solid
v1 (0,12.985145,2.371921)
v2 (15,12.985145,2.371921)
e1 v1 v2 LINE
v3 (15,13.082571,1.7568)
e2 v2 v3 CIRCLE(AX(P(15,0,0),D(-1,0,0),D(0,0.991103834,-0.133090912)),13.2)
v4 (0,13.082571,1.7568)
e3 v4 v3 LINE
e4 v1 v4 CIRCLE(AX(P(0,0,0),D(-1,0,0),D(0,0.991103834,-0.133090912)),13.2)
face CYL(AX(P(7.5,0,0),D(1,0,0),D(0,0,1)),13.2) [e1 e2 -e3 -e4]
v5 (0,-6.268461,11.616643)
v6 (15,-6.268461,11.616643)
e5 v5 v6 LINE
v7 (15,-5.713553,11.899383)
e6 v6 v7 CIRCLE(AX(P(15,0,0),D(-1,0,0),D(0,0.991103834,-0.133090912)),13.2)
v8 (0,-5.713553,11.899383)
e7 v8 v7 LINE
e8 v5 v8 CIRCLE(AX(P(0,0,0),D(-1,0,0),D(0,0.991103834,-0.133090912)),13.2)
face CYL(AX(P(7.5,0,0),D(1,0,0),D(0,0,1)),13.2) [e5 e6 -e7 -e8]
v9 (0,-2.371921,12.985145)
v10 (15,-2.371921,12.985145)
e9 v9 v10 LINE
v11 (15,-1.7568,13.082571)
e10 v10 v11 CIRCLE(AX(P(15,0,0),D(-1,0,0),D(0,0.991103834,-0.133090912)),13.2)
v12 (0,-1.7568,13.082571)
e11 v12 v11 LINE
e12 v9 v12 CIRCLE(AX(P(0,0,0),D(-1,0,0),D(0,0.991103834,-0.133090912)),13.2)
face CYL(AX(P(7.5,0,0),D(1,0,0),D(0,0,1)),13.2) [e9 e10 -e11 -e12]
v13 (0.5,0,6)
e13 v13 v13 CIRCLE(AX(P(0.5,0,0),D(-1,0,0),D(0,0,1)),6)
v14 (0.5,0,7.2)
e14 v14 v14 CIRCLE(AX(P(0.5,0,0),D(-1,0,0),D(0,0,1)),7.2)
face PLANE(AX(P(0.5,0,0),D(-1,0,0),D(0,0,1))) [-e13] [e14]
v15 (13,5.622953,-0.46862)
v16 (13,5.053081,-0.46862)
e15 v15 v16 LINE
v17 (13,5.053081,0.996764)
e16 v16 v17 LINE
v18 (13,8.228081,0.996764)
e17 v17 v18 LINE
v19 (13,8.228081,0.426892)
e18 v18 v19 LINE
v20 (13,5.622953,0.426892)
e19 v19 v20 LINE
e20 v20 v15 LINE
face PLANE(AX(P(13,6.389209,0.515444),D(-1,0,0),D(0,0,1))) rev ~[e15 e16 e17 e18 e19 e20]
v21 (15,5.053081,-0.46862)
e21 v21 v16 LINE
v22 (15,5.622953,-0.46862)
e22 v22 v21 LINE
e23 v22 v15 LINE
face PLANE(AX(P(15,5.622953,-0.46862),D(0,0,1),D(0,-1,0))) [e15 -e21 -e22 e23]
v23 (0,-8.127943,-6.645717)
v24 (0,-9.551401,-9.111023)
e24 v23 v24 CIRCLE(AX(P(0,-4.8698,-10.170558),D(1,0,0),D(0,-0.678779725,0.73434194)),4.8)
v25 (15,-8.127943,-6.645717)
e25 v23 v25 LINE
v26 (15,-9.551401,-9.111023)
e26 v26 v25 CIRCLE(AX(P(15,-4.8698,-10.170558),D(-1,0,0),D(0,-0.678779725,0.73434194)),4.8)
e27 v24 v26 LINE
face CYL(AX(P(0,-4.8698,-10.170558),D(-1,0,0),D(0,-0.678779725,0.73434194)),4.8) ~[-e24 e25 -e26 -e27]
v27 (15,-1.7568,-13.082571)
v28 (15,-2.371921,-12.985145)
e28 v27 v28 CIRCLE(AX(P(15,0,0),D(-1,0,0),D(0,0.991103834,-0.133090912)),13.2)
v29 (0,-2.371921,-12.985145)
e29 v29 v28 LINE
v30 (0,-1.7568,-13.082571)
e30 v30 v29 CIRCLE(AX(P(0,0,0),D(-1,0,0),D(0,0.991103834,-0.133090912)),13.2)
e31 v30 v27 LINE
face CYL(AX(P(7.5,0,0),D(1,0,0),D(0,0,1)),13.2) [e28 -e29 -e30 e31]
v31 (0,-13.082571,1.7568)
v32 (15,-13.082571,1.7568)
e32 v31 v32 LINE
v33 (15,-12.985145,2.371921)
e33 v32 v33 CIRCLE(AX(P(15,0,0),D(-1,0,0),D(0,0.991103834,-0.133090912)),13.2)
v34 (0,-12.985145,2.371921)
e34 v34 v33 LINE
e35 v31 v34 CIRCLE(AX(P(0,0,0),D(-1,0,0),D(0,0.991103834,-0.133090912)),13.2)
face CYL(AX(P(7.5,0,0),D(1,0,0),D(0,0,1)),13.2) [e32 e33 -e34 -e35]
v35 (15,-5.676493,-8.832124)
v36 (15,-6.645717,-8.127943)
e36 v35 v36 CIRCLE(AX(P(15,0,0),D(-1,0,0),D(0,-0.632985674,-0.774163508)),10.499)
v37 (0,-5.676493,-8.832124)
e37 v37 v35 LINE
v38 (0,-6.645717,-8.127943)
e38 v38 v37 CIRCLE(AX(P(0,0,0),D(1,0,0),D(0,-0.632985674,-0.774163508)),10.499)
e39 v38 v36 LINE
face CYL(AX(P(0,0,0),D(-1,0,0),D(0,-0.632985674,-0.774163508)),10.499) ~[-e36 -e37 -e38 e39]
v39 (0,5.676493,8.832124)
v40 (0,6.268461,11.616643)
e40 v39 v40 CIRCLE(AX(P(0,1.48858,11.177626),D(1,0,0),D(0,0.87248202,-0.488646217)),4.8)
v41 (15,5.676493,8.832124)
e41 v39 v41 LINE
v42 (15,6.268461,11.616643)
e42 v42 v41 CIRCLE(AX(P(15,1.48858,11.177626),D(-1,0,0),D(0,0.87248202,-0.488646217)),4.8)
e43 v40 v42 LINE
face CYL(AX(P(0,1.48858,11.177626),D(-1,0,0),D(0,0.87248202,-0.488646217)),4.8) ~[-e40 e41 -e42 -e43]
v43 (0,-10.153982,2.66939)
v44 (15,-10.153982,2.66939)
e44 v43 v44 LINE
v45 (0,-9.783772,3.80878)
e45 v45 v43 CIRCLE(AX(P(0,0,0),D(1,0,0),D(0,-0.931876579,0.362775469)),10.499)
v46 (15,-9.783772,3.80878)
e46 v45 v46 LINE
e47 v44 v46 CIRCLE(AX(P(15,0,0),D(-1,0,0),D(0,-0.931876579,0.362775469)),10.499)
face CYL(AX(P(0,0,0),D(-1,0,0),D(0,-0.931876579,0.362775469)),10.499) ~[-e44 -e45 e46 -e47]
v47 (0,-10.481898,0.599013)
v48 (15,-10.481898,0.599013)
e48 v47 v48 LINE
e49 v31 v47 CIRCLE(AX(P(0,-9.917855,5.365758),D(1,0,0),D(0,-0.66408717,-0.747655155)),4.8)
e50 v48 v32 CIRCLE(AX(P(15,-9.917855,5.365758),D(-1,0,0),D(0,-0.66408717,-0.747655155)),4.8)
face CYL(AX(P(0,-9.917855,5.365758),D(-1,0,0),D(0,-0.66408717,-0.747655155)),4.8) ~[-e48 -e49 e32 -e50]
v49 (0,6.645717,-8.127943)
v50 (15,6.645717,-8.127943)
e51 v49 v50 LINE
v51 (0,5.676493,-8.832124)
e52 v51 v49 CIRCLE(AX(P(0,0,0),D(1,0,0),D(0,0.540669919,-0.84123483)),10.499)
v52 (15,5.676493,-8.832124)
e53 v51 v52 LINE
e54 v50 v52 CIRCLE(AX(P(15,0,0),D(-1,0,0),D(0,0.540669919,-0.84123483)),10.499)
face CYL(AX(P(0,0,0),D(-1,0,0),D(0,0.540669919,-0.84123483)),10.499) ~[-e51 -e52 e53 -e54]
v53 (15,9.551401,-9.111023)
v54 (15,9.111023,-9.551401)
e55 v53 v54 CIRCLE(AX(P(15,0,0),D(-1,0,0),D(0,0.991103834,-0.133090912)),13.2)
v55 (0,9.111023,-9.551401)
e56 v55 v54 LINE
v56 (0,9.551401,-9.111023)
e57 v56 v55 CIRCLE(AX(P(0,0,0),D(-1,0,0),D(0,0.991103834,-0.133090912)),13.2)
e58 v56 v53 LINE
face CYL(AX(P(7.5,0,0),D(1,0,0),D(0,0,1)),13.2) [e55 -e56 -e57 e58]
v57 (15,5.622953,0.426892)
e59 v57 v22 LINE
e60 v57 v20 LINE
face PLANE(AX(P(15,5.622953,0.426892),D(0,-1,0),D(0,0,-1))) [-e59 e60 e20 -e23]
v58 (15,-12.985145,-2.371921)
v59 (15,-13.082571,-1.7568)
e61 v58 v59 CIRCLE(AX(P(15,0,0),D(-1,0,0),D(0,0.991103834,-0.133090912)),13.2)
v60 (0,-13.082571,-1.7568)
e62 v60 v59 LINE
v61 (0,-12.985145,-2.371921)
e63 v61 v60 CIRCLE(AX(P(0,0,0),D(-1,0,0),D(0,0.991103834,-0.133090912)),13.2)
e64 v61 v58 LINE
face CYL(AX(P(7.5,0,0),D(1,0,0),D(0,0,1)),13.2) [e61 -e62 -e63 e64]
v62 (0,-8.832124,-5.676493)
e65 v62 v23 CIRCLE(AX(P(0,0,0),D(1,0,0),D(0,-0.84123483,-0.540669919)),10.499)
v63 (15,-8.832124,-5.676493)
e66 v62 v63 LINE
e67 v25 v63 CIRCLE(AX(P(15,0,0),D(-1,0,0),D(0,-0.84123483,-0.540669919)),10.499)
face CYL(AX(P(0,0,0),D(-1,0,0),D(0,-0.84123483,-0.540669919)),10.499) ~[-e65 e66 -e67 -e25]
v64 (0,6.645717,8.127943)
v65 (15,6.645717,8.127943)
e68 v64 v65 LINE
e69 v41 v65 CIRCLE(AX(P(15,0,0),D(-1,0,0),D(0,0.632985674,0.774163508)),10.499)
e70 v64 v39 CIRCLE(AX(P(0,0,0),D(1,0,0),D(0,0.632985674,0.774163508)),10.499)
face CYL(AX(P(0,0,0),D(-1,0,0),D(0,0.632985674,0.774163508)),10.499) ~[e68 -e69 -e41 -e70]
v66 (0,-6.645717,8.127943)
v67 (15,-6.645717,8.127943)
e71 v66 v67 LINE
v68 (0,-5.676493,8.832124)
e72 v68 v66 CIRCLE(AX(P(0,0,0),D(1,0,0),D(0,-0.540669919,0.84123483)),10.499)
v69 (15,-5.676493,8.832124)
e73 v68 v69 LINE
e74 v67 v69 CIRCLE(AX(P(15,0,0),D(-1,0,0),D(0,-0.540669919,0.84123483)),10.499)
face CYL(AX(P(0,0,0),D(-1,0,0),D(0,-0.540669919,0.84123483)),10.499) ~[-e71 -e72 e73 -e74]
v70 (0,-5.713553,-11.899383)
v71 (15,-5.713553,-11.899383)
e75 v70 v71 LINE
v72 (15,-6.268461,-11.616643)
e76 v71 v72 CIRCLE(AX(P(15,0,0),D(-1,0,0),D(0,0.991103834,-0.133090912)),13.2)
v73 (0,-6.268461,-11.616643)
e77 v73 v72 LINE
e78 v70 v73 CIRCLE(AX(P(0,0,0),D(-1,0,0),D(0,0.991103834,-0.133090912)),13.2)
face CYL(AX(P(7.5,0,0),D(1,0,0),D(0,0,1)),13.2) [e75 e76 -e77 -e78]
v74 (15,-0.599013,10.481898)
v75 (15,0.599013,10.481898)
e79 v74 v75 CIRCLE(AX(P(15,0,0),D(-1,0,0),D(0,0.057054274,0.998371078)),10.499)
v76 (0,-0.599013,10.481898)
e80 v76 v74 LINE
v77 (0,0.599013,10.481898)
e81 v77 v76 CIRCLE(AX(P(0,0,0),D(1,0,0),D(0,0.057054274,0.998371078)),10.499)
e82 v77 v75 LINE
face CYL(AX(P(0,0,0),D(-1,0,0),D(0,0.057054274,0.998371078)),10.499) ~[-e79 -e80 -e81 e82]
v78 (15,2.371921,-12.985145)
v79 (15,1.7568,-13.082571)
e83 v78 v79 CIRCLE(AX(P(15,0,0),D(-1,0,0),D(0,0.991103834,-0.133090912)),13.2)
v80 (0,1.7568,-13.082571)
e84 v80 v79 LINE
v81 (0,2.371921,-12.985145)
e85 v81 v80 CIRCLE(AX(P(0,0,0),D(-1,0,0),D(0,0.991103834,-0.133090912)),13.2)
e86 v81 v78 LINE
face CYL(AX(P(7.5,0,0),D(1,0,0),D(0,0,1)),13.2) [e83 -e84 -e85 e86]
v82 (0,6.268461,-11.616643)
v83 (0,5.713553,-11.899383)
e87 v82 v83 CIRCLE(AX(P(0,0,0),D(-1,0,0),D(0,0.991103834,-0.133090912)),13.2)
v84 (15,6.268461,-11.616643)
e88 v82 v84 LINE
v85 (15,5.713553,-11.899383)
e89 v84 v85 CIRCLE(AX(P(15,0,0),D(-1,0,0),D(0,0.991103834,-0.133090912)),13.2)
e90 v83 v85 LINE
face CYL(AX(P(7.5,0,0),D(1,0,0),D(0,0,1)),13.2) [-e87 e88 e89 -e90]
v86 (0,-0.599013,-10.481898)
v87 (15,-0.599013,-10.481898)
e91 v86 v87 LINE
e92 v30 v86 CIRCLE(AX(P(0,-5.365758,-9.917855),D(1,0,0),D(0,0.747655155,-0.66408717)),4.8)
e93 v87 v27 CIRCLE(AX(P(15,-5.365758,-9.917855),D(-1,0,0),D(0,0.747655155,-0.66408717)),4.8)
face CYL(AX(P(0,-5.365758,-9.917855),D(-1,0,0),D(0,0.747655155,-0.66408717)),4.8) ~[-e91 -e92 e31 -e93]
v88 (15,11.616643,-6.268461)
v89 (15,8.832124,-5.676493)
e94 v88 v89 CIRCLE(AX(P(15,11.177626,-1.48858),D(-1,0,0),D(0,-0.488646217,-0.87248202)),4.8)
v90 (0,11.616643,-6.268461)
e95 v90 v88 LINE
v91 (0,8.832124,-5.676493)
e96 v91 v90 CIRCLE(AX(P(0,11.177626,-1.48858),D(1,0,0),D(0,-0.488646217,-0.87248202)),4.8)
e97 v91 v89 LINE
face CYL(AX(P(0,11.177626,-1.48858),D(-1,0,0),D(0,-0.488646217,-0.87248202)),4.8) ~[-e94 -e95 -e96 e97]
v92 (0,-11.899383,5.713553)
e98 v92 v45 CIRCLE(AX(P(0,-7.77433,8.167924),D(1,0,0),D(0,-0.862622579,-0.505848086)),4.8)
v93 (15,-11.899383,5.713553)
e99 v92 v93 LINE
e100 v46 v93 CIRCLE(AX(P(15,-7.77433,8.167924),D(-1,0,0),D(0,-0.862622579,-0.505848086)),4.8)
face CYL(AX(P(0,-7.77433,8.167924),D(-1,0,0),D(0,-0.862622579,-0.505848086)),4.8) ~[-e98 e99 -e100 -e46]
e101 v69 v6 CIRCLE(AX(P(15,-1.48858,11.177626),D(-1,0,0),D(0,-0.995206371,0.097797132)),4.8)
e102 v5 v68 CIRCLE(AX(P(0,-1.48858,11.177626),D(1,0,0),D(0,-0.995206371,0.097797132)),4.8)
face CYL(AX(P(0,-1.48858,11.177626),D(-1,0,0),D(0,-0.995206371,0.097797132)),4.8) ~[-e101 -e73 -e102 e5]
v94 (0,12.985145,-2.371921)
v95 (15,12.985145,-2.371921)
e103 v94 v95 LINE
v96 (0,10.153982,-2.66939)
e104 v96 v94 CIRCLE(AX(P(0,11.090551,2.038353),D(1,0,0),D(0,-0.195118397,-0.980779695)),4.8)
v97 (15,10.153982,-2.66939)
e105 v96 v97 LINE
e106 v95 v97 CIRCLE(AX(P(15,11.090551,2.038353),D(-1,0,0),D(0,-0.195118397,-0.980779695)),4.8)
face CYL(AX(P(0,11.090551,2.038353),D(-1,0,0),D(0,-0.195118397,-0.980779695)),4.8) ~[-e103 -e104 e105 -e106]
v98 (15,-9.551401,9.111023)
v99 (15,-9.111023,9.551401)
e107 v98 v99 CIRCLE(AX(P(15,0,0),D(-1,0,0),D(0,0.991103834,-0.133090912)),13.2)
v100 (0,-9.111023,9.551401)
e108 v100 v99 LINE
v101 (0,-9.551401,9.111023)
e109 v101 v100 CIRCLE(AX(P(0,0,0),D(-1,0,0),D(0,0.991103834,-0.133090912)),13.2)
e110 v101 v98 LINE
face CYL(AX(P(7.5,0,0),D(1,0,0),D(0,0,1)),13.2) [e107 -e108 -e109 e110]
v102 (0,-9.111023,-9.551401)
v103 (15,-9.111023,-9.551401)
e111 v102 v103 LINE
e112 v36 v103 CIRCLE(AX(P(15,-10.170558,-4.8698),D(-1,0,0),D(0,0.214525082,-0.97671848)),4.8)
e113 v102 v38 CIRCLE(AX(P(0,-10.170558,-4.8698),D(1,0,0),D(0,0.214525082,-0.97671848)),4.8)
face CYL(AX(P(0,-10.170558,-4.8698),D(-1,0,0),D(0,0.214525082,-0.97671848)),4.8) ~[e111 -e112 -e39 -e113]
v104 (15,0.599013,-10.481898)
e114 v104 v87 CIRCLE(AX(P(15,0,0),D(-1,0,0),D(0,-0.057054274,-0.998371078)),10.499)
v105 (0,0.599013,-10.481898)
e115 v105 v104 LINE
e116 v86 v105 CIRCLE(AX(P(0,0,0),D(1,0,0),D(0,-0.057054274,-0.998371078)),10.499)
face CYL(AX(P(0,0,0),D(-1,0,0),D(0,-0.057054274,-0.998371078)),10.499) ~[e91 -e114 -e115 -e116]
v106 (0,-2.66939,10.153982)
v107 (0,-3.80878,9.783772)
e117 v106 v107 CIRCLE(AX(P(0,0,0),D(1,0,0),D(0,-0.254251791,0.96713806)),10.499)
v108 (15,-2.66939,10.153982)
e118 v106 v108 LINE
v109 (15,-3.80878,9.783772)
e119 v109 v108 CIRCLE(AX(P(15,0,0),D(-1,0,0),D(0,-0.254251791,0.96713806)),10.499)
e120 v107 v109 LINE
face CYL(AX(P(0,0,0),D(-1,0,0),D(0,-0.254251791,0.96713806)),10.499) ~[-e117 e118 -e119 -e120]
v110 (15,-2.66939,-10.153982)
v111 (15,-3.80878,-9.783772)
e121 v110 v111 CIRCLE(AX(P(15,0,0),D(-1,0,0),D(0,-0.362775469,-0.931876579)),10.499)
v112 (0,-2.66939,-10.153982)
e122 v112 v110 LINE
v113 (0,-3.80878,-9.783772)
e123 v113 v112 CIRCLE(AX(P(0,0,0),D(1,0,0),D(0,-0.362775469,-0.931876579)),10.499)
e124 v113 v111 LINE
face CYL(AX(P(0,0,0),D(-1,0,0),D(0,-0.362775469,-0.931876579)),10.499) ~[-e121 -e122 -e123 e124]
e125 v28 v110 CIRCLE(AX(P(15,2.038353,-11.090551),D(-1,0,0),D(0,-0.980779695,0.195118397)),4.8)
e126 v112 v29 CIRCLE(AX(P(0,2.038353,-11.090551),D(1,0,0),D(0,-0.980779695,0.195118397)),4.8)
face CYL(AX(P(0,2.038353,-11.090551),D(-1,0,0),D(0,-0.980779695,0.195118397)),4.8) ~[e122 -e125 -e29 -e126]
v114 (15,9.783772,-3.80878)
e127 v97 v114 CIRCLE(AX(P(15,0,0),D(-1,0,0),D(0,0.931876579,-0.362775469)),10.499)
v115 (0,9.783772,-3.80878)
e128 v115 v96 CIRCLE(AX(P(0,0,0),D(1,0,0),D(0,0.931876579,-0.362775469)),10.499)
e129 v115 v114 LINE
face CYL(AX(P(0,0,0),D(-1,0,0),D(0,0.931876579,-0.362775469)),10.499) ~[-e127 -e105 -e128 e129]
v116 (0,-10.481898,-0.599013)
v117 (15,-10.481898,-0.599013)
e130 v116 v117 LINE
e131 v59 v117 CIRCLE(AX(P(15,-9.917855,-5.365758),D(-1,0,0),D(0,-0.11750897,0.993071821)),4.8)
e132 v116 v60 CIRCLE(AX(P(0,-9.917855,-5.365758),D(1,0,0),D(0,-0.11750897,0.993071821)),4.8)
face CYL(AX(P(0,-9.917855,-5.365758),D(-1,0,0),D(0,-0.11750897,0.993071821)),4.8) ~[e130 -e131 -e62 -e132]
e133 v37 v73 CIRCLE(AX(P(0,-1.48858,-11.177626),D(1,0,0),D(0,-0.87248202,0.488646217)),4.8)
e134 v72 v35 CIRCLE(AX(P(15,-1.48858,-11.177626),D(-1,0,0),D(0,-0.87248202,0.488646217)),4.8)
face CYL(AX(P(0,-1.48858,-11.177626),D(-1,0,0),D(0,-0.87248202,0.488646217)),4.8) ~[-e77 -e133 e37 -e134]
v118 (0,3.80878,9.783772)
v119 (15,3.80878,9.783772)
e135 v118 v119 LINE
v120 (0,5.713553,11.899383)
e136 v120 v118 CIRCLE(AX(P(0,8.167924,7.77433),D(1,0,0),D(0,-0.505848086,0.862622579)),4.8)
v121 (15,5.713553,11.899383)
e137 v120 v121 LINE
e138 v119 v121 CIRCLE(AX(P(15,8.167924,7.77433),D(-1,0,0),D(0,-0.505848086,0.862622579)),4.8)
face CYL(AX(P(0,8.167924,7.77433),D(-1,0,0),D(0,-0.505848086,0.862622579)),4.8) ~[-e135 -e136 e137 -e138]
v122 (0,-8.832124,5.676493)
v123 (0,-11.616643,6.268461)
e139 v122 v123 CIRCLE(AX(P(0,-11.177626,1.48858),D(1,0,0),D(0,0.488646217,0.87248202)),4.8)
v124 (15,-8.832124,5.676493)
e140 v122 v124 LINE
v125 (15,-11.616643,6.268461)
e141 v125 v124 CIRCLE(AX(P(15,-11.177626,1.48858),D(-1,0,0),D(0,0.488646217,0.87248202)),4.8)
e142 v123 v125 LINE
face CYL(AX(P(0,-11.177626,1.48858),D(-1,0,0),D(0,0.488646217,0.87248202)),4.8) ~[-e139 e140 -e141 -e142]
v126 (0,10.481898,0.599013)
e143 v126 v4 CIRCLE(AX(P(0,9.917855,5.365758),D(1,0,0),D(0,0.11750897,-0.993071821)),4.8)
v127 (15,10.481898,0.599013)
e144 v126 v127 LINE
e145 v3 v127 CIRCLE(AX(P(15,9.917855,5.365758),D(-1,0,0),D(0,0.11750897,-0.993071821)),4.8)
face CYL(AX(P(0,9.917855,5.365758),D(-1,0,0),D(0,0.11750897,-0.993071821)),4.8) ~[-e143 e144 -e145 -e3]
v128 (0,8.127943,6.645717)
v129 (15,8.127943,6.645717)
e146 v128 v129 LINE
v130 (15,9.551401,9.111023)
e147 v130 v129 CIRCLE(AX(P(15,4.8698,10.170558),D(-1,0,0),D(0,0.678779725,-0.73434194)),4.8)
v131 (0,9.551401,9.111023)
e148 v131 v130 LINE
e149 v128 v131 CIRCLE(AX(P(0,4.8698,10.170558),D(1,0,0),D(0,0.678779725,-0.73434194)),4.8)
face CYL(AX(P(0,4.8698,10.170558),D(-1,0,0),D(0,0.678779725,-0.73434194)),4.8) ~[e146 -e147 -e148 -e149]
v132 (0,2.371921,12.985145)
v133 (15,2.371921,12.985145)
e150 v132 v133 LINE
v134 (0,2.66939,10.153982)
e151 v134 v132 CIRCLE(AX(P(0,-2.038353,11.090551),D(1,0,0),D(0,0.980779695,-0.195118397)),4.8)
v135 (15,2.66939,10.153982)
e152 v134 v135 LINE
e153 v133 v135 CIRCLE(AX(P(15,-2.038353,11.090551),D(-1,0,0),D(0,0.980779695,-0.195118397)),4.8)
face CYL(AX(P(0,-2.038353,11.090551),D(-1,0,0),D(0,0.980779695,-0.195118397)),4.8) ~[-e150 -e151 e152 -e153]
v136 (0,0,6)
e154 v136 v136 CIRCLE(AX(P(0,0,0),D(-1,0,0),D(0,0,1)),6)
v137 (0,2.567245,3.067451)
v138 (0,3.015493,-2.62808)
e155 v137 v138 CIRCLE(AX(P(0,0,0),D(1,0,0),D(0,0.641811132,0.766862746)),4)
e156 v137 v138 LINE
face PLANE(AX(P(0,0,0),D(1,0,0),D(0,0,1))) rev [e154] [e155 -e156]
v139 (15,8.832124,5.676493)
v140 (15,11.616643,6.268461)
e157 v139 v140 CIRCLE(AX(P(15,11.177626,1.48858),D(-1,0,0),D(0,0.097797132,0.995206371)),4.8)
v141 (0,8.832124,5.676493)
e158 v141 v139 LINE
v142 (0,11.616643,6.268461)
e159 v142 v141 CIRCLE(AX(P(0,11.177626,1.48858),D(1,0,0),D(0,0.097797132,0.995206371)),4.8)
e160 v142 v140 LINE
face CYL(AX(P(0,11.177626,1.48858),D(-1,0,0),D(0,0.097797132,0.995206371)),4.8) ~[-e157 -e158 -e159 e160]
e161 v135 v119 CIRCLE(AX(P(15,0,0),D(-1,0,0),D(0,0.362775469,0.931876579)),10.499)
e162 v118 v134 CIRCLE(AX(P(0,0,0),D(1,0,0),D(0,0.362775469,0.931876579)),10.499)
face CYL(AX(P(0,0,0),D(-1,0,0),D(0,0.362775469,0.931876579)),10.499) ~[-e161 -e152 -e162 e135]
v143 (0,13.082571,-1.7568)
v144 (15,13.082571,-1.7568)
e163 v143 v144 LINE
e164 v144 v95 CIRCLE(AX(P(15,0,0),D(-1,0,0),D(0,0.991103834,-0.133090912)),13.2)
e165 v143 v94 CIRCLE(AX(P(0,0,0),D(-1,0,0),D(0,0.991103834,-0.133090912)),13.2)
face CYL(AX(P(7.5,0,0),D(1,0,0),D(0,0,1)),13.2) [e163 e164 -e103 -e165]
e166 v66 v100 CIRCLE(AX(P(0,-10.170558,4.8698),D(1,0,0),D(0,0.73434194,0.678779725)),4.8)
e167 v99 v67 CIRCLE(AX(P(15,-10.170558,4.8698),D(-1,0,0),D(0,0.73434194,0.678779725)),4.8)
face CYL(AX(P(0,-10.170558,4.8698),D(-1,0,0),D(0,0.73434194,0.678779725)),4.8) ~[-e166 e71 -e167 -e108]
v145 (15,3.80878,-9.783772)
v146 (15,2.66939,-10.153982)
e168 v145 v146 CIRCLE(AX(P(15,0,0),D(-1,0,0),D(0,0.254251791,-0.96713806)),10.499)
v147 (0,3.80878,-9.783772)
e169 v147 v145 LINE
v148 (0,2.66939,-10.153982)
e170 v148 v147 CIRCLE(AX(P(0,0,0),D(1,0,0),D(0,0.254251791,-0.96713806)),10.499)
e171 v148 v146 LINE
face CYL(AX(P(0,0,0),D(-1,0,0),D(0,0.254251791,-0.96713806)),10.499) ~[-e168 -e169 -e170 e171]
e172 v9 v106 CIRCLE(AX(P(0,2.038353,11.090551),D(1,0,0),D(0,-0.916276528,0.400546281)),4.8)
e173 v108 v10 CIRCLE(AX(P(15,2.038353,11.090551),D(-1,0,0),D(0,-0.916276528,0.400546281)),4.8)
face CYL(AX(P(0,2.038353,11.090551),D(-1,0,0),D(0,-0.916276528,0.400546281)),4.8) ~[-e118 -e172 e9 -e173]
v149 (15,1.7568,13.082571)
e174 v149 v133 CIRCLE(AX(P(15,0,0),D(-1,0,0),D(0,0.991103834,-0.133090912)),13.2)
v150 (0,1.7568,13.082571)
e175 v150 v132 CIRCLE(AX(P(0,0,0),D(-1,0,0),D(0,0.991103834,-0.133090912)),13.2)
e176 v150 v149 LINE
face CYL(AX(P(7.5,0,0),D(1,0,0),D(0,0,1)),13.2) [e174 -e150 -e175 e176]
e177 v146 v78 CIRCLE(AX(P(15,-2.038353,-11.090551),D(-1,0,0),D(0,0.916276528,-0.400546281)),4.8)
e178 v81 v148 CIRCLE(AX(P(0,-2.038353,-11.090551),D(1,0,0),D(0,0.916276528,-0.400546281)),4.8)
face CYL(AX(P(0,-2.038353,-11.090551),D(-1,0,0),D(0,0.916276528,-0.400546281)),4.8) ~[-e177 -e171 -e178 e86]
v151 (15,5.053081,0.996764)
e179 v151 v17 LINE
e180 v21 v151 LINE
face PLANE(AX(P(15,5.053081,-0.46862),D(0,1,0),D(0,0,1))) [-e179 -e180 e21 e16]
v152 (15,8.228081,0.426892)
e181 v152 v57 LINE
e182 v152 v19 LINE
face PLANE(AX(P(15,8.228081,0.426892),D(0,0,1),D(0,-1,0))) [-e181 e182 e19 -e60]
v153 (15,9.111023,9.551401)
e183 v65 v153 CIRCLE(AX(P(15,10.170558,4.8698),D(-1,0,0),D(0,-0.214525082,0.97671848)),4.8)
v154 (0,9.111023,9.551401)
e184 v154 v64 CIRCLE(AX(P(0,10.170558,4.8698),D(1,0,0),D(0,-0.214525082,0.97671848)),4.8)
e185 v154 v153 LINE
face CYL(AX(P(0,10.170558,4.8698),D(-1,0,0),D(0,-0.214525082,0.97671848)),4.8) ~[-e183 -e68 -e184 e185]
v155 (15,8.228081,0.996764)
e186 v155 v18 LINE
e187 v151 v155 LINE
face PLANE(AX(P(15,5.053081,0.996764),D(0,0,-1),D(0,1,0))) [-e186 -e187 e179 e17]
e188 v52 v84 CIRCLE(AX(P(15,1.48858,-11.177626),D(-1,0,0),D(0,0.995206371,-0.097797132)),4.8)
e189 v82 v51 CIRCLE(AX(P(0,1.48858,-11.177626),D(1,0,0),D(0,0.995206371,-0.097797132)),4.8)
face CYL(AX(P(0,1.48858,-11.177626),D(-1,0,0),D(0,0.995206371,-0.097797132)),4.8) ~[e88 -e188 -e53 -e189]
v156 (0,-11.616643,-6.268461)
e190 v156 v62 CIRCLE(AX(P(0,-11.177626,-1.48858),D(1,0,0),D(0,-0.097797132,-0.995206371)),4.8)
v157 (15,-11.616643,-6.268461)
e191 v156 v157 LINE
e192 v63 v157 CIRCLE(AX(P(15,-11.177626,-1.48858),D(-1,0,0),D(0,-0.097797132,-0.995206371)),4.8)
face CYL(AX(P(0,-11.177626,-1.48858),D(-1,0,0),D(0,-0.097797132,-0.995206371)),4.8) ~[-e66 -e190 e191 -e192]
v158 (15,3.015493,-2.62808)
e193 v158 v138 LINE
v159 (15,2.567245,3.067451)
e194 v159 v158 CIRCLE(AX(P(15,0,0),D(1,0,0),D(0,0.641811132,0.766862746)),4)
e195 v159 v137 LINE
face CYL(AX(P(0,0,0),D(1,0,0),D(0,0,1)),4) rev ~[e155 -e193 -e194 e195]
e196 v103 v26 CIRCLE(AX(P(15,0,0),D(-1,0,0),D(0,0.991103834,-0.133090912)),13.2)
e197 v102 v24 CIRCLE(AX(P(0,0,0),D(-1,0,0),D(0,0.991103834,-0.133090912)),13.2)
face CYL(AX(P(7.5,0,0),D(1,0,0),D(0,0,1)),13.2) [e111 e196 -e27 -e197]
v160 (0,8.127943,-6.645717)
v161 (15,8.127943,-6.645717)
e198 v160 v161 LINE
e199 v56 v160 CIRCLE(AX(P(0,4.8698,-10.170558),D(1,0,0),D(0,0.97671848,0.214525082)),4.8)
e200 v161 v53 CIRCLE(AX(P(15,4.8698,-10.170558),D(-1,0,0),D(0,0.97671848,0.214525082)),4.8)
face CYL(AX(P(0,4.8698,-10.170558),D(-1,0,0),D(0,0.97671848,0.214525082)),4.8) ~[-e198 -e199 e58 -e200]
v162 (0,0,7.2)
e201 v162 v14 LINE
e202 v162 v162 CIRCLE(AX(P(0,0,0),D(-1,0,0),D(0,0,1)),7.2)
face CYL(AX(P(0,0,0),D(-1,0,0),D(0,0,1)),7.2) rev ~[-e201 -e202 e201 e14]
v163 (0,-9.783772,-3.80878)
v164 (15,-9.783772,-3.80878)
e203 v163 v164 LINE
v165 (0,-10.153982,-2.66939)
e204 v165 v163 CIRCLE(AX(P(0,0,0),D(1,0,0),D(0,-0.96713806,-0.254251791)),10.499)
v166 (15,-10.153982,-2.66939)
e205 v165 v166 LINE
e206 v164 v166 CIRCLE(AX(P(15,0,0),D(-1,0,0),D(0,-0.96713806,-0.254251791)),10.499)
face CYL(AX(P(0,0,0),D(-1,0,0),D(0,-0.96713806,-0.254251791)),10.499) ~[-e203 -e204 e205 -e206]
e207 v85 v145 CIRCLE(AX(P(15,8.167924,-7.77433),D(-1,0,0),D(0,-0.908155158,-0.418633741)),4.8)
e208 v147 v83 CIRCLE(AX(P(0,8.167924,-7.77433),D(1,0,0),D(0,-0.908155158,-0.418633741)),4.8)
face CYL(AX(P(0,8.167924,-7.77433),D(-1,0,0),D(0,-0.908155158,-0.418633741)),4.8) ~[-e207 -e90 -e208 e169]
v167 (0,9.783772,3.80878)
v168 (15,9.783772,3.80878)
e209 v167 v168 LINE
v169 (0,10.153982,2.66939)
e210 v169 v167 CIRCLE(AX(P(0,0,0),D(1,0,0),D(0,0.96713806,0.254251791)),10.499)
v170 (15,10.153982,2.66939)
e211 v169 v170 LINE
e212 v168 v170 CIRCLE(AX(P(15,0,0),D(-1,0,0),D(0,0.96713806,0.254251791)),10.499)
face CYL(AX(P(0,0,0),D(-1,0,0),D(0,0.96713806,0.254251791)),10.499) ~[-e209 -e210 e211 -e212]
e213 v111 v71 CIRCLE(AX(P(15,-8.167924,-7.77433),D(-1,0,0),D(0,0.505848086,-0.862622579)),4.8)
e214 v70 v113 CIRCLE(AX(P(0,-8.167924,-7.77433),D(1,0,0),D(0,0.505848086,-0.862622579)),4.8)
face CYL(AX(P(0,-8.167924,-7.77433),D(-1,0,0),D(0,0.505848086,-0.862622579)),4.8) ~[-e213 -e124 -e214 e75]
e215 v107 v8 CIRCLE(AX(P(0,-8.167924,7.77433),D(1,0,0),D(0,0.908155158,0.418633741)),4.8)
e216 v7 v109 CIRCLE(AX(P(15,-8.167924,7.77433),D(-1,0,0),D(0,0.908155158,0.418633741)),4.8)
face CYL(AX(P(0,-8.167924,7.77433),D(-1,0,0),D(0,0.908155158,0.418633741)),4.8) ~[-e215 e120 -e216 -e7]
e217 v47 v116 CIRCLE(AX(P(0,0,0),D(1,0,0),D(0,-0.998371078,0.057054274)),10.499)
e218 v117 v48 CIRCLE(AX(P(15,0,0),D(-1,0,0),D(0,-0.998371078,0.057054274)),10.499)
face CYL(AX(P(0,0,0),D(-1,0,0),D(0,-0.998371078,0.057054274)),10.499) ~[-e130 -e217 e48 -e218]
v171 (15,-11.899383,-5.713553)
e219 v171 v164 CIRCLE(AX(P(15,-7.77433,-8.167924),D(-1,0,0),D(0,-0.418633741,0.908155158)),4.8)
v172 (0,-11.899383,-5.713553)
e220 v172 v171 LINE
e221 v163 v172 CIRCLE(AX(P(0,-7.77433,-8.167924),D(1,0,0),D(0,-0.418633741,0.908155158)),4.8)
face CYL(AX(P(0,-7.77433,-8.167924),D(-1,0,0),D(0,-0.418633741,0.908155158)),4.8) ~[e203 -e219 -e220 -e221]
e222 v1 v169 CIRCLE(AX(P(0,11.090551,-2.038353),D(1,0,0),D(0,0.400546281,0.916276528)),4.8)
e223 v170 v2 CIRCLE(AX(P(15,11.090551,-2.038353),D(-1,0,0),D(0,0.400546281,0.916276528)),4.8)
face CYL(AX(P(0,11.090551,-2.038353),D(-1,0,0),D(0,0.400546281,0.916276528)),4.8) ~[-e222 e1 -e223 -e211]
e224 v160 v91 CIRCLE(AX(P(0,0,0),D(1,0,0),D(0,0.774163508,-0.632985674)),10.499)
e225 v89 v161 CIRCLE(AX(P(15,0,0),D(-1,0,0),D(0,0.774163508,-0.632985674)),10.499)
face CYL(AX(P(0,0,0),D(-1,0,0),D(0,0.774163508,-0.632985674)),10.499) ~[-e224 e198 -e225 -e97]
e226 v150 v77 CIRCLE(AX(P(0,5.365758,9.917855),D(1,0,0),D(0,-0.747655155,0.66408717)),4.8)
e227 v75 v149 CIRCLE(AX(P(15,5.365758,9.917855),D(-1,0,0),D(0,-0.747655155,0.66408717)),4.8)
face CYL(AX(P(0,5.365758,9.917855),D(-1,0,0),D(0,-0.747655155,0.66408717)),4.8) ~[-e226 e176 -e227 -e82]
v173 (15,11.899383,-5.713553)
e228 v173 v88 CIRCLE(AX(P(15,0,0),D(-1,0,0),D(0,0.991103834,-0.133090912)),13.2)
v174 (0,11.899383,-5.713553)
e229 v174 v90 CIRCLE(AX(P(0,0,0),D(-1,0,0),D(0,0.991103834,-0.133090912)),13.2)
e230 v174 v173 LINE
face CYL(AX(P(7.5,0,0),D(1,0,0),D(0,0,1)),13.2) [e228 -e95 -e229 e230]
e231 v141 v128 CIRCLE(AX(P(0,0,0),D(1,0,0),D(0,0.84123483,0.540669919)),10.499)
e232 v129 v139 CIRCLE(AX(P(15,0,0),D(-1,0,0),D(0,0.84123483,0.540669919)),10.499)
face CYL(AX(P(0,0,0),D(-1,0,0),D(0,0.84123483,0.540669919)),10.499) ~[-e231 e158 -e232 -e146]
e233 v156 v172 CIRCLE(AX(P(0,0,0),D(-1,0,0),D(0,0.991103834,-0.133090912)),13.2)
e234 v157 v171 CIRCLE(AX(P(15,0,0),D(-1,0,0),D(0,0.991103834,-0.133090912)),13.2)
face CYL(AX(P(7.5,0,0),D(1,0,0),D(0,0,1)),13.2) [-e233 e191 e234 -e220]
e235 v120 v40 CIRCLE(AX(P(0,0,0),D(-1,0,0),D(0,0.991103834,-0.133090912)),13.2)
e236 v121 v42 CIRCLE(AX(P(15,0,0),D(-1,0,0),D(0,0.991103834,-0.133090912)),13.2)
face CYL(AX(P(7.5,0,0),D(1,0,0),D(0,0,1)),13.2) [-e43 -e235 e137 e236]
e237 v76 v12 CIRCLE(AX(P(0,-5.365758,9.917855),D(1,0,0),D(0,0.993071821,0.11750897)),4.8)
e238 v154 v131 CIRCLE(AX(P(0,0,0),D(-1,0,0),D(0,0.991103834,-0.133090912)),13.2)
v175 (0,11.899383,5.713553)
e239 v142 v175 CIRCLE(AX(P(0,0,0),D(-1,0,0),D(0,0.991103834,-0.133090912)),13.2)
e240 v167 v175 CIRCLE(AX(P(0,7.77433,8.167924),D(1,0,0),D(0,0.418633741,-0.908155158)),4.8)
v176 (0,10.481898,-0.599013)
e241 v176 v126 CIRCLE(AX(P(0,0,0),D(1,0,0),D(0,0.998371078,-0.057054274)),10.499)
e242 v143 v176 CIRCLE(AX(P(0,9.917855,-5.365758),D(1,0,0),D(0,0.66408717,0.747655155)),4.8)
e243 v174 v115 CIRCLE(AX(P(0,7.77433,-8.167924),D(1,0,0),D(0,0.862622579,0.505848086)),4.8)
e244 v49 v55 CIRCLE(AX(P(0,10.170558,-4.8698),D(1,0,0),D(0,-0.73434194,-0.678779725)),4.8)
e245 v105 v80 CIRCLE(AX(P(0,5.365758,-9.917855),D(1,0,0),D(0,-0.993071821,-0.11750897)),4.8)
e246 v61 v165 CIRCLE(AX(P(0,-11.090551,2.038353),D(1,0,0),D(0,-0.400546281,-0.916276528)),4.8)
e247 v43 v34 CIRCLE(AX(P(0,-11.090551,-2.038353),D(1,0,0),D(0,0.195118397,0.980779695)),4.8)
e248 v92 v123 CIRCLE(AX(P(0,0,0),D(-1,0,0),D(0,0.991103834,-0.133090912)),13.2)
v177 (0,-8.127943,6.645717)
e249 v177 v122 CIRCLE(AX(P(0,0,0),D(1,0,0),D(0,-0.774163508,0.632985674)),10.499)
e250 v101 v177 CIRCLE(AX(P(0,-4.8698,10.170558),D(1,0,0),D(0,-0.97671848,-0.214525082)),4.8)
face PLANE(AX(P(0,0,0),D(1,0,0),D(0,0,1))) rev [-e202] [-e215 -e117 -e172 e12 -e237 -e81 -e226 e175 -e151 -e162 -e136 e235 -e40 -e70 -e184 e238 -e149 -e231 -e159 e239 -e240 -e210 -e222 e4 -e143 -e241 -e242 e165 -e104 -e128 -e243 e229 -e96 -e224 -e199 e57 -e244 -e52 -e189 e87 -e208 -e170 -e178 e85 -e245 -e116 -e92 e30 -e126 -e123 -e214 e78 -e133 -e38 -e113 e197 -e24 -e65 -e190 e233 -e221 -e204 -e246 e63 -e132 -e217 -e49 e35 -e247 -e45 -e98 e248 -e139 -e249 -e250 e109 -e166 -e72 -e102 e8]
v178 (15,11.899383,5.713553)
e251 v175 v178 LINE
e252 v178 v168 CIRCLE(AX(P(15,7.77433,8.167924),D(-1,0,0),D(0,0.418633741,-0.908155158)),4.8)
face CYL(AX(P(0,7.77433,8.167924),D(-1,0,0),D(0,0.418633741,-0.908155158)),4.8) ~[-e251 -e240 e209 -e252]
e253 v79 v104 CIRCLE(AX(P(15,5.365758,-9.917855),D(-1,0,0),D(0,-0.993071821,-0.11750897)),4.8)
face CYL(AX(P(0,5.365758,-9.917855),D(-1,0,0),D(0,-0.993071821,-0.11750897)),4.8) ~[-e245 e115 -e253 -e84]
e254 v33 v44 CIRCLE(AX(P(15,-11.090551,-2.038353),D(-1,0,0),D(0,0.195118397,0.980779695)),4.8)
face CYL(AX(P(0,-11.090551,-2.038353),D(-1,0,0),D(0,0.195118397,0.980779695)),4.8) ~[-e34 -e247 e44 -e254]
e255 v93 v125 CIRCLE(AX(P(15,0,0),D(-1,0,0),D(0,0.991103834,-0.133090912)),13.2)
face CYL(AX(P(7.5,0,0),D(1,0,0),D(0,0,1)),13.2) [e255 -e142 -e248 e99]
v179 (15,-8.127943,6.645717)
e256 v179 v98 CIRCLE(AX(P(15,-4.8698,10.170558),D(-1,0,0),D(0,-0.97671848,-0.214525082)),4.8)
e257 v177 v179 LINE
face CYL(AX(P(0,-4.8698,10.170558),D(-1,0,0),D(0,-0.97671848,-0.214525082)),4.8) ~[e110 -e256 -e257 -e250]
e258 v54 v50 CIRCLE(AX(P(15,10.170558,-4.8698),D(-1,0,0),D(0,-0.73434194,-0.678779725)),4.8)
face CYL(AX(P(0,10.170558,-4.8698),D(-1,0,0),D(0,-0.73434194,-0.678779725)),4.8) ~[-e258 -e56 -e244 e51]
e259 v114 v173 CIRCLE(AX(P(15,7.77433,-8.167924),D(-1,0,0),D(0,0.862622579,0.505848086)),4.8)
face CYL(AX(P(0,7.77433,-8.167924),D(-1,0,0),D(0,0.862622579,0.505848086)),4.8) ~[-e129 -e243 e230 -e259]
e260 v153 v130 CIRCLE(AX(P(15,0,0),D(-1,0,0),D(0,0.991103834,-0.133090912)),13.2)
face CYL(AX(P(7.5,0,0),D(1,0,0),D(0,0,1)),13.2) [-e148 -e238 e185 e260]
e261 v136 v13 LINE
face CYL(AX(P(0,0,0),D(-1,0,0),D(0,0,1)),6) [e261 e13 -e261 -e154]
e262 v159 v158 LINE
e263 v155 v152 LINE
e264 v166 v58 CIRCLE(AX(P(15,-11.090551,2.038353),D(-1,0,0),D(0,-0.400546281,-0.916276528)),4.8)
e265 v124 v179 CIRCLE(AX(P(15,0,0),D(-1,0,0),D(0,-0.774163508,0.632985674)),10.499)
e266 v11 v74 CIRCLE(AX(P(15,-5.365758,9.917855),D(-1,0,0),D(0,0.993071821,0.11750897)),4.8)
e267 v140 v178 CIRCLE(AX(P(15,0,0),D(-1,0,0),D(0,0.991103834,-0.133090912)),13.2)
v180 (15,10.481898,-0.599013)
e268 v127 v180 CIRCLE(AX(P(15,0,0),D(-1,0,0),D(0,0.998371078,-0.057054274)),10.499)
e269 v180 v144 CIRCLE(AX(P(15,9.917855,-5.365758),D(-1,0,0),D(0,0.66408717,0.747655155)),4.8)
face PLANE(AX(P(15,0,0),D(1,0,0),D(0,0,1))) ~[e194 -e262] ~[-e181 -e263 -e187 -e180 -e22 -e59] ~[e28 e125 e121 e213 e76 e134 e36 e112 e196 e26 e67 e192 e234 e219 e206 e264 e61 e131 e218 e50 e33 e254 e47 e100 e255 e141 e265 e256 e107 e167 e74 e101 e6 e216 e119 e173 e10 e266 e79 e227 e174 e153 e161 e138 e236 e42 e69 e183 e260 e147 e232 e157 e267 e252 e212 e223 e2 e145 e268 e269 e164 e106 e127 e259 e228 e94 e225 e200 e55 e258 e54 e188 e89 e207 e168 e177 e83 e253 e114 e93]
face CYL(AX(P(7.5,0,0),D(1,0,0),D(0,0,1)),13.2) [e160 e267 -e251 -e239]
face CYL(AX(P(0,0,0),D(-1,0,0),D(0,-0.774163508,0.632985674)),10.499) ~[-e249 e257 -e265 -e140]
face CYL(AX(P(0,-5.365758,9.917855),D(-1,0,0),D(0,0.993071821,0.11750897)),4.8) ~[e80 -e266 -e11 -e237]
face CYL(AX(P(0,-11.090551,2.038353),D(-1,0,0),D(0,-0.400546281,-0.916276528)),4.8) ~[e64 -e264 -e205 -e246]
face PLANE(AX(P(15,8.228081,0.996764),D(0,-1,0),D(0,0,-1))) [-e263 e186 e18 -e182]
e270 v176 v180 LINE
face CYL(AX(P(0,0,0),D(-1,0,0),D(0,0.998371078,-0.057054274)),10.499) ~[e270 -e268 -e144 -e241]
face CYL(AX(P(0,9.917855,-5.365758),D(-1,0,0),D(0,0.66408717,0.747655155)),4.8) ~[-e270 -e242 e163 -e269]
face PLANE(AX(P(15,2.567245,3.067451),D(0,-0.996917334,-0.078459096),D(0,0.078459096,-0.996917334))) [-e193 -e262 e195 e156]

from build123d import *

# Parameters (mm, degrees)
BASPROSKE_W         = 15
BASPROSKE_H         = 13.2
TOOTHCUT_DEPTH      = 24.947442452
TEETHCUTS_COUNT     = 20
TEETHCUTS_ANGLE     = 342
BORSKE_R            = 4
BORE_DEPTH          = 50.0000508
BOSS_EXTRUDE1_START = -15
BOSS_EXTRUDE1_DEPTH = 15
SKETCH2_R           = 7.2
SKETCH2_R_2         = 6
CUT_EXTRUDE1_DEPTH  = 0.5
CUT_EXTRUDE2_DEPTH  = 2


with BuildPart() as part:
    # BasProSke → Base-Revolve (revolve)
    with BuildSketch(Plane(origin=(0, 0, 0), x_dir=(1, 0, 0), z_dir=(0, 1, 0)), mode=Mode.PRIVATE) as base_revolve_sk:
        with Locations((7.5, 6.6)):
            Rectangle(BASPROSKE_W, BASPROSKE_H)
    revolve(base_revolve_sk.sketch.rotate(Axis((-10, 0, 0), (1, 0, 0)), 180), axis=Axis((-10, 0, 0), (1, 0, 0)))

    # TooCutSke → ToothCut (cut, through all)
    with BuildSketch(Plane(origin=(0, 0, 0), x_dir=(0, 0, -1), z_dir=(1, 0, 0))):
        with BuildLine():
            ThreePointArc((0.599012827, 10.48189795), (0, 10.499), (-0.599012827, 10.48189795))
            ThreePointArc((-0.599012827, 10.48189795), (-0.986906343, 11.883983562), (-1.777012823, 13.105473306))
            ThreePointArc((-1.777012823, 13.105473306), (0, 13.2254), (1.777012823, 13.105473306))
            ThreePointArc((1.777012823, 13.105473306), (0.986906343, 11.883983562), (0.599012827, 10.48189795))
        make_face()
    toothcut = extrude(amount=TOOTHCUT_DEPTH, mode=Mode.SUBTRACT)

    # TeethCuts: ToothCut ×20 about axis
    teethcuts_axis = Axis((-10, 0, 0), (1, 0, 0))
    for i in range(1, TEETHCUTS_COUNT):
        add(toothcut.rotate(teethcuts_axis, i * TEETHCUTS_ANGLE / (TEETHCUTS_COUNT - 1)), mode=Mode.SUBTRACT)

    # BorSke → Bore (cut, symmetric)
    with BuildSketch(Plane(origin=(0, 0, 0), x_dir=(0, 0, -1), z_dir=(1, 0, 0))):
        with Locations(Location((0, 0, 0), (0, 0, 180))):
            Circle(BORSKE_R)
    extrude(amount=BORE_DEPTH, both=True, mode=Mode.SUBTRACT)

    # Sketch1 → Boss-Extrude1 (add)
    with BuildSketch(Plane.ZY.offset(BOSS_EXTRUDE1_START)):
        with BuildLine():
            Line((3.067450983, 2.567244528), (-2.628080047, 3.015492541))
            ThreePointArc((-2.628080047, 3.015492541), (0.313836383, 3.987669335), (3.067450983, 2.567244528))
        make_face()
    extrude(amount=BOSS_EXTRUDE1_DEPTH)

    # Sketch2 → Cut-Extrude1 (cut)
    with BuildSketch(Plane.ZY):
        Circle(SKETCH2_R)
        Circle(SKETCH2_R_2, mode=Mode.SUBTRACT)
    extrude(amount=-CUT_EXTRUDE1_DEPTH, mode=Mode.SUBTRACT)

    # Sketch3 → Cut-Extrude2 (cut)
    with BuildSketch(Plane(origin=(15, 0, 0), x_dir=(0, 0, -1), z_dir=(1, 0, 0))):
        Polygon((-0.996764222, 8.228081038), (-0.426892427, 8.228081038), (-0.426892427, 5.622952833), (0.468620394, 5.622952833), (0.468620394, 5.053081038), (-0.996764222, 5.053081038), align=None)
    extrude(amount=-CUT_EXTRUDE2_DEPTH, mode=Mode.SUBTRACT)


solid = part.part
